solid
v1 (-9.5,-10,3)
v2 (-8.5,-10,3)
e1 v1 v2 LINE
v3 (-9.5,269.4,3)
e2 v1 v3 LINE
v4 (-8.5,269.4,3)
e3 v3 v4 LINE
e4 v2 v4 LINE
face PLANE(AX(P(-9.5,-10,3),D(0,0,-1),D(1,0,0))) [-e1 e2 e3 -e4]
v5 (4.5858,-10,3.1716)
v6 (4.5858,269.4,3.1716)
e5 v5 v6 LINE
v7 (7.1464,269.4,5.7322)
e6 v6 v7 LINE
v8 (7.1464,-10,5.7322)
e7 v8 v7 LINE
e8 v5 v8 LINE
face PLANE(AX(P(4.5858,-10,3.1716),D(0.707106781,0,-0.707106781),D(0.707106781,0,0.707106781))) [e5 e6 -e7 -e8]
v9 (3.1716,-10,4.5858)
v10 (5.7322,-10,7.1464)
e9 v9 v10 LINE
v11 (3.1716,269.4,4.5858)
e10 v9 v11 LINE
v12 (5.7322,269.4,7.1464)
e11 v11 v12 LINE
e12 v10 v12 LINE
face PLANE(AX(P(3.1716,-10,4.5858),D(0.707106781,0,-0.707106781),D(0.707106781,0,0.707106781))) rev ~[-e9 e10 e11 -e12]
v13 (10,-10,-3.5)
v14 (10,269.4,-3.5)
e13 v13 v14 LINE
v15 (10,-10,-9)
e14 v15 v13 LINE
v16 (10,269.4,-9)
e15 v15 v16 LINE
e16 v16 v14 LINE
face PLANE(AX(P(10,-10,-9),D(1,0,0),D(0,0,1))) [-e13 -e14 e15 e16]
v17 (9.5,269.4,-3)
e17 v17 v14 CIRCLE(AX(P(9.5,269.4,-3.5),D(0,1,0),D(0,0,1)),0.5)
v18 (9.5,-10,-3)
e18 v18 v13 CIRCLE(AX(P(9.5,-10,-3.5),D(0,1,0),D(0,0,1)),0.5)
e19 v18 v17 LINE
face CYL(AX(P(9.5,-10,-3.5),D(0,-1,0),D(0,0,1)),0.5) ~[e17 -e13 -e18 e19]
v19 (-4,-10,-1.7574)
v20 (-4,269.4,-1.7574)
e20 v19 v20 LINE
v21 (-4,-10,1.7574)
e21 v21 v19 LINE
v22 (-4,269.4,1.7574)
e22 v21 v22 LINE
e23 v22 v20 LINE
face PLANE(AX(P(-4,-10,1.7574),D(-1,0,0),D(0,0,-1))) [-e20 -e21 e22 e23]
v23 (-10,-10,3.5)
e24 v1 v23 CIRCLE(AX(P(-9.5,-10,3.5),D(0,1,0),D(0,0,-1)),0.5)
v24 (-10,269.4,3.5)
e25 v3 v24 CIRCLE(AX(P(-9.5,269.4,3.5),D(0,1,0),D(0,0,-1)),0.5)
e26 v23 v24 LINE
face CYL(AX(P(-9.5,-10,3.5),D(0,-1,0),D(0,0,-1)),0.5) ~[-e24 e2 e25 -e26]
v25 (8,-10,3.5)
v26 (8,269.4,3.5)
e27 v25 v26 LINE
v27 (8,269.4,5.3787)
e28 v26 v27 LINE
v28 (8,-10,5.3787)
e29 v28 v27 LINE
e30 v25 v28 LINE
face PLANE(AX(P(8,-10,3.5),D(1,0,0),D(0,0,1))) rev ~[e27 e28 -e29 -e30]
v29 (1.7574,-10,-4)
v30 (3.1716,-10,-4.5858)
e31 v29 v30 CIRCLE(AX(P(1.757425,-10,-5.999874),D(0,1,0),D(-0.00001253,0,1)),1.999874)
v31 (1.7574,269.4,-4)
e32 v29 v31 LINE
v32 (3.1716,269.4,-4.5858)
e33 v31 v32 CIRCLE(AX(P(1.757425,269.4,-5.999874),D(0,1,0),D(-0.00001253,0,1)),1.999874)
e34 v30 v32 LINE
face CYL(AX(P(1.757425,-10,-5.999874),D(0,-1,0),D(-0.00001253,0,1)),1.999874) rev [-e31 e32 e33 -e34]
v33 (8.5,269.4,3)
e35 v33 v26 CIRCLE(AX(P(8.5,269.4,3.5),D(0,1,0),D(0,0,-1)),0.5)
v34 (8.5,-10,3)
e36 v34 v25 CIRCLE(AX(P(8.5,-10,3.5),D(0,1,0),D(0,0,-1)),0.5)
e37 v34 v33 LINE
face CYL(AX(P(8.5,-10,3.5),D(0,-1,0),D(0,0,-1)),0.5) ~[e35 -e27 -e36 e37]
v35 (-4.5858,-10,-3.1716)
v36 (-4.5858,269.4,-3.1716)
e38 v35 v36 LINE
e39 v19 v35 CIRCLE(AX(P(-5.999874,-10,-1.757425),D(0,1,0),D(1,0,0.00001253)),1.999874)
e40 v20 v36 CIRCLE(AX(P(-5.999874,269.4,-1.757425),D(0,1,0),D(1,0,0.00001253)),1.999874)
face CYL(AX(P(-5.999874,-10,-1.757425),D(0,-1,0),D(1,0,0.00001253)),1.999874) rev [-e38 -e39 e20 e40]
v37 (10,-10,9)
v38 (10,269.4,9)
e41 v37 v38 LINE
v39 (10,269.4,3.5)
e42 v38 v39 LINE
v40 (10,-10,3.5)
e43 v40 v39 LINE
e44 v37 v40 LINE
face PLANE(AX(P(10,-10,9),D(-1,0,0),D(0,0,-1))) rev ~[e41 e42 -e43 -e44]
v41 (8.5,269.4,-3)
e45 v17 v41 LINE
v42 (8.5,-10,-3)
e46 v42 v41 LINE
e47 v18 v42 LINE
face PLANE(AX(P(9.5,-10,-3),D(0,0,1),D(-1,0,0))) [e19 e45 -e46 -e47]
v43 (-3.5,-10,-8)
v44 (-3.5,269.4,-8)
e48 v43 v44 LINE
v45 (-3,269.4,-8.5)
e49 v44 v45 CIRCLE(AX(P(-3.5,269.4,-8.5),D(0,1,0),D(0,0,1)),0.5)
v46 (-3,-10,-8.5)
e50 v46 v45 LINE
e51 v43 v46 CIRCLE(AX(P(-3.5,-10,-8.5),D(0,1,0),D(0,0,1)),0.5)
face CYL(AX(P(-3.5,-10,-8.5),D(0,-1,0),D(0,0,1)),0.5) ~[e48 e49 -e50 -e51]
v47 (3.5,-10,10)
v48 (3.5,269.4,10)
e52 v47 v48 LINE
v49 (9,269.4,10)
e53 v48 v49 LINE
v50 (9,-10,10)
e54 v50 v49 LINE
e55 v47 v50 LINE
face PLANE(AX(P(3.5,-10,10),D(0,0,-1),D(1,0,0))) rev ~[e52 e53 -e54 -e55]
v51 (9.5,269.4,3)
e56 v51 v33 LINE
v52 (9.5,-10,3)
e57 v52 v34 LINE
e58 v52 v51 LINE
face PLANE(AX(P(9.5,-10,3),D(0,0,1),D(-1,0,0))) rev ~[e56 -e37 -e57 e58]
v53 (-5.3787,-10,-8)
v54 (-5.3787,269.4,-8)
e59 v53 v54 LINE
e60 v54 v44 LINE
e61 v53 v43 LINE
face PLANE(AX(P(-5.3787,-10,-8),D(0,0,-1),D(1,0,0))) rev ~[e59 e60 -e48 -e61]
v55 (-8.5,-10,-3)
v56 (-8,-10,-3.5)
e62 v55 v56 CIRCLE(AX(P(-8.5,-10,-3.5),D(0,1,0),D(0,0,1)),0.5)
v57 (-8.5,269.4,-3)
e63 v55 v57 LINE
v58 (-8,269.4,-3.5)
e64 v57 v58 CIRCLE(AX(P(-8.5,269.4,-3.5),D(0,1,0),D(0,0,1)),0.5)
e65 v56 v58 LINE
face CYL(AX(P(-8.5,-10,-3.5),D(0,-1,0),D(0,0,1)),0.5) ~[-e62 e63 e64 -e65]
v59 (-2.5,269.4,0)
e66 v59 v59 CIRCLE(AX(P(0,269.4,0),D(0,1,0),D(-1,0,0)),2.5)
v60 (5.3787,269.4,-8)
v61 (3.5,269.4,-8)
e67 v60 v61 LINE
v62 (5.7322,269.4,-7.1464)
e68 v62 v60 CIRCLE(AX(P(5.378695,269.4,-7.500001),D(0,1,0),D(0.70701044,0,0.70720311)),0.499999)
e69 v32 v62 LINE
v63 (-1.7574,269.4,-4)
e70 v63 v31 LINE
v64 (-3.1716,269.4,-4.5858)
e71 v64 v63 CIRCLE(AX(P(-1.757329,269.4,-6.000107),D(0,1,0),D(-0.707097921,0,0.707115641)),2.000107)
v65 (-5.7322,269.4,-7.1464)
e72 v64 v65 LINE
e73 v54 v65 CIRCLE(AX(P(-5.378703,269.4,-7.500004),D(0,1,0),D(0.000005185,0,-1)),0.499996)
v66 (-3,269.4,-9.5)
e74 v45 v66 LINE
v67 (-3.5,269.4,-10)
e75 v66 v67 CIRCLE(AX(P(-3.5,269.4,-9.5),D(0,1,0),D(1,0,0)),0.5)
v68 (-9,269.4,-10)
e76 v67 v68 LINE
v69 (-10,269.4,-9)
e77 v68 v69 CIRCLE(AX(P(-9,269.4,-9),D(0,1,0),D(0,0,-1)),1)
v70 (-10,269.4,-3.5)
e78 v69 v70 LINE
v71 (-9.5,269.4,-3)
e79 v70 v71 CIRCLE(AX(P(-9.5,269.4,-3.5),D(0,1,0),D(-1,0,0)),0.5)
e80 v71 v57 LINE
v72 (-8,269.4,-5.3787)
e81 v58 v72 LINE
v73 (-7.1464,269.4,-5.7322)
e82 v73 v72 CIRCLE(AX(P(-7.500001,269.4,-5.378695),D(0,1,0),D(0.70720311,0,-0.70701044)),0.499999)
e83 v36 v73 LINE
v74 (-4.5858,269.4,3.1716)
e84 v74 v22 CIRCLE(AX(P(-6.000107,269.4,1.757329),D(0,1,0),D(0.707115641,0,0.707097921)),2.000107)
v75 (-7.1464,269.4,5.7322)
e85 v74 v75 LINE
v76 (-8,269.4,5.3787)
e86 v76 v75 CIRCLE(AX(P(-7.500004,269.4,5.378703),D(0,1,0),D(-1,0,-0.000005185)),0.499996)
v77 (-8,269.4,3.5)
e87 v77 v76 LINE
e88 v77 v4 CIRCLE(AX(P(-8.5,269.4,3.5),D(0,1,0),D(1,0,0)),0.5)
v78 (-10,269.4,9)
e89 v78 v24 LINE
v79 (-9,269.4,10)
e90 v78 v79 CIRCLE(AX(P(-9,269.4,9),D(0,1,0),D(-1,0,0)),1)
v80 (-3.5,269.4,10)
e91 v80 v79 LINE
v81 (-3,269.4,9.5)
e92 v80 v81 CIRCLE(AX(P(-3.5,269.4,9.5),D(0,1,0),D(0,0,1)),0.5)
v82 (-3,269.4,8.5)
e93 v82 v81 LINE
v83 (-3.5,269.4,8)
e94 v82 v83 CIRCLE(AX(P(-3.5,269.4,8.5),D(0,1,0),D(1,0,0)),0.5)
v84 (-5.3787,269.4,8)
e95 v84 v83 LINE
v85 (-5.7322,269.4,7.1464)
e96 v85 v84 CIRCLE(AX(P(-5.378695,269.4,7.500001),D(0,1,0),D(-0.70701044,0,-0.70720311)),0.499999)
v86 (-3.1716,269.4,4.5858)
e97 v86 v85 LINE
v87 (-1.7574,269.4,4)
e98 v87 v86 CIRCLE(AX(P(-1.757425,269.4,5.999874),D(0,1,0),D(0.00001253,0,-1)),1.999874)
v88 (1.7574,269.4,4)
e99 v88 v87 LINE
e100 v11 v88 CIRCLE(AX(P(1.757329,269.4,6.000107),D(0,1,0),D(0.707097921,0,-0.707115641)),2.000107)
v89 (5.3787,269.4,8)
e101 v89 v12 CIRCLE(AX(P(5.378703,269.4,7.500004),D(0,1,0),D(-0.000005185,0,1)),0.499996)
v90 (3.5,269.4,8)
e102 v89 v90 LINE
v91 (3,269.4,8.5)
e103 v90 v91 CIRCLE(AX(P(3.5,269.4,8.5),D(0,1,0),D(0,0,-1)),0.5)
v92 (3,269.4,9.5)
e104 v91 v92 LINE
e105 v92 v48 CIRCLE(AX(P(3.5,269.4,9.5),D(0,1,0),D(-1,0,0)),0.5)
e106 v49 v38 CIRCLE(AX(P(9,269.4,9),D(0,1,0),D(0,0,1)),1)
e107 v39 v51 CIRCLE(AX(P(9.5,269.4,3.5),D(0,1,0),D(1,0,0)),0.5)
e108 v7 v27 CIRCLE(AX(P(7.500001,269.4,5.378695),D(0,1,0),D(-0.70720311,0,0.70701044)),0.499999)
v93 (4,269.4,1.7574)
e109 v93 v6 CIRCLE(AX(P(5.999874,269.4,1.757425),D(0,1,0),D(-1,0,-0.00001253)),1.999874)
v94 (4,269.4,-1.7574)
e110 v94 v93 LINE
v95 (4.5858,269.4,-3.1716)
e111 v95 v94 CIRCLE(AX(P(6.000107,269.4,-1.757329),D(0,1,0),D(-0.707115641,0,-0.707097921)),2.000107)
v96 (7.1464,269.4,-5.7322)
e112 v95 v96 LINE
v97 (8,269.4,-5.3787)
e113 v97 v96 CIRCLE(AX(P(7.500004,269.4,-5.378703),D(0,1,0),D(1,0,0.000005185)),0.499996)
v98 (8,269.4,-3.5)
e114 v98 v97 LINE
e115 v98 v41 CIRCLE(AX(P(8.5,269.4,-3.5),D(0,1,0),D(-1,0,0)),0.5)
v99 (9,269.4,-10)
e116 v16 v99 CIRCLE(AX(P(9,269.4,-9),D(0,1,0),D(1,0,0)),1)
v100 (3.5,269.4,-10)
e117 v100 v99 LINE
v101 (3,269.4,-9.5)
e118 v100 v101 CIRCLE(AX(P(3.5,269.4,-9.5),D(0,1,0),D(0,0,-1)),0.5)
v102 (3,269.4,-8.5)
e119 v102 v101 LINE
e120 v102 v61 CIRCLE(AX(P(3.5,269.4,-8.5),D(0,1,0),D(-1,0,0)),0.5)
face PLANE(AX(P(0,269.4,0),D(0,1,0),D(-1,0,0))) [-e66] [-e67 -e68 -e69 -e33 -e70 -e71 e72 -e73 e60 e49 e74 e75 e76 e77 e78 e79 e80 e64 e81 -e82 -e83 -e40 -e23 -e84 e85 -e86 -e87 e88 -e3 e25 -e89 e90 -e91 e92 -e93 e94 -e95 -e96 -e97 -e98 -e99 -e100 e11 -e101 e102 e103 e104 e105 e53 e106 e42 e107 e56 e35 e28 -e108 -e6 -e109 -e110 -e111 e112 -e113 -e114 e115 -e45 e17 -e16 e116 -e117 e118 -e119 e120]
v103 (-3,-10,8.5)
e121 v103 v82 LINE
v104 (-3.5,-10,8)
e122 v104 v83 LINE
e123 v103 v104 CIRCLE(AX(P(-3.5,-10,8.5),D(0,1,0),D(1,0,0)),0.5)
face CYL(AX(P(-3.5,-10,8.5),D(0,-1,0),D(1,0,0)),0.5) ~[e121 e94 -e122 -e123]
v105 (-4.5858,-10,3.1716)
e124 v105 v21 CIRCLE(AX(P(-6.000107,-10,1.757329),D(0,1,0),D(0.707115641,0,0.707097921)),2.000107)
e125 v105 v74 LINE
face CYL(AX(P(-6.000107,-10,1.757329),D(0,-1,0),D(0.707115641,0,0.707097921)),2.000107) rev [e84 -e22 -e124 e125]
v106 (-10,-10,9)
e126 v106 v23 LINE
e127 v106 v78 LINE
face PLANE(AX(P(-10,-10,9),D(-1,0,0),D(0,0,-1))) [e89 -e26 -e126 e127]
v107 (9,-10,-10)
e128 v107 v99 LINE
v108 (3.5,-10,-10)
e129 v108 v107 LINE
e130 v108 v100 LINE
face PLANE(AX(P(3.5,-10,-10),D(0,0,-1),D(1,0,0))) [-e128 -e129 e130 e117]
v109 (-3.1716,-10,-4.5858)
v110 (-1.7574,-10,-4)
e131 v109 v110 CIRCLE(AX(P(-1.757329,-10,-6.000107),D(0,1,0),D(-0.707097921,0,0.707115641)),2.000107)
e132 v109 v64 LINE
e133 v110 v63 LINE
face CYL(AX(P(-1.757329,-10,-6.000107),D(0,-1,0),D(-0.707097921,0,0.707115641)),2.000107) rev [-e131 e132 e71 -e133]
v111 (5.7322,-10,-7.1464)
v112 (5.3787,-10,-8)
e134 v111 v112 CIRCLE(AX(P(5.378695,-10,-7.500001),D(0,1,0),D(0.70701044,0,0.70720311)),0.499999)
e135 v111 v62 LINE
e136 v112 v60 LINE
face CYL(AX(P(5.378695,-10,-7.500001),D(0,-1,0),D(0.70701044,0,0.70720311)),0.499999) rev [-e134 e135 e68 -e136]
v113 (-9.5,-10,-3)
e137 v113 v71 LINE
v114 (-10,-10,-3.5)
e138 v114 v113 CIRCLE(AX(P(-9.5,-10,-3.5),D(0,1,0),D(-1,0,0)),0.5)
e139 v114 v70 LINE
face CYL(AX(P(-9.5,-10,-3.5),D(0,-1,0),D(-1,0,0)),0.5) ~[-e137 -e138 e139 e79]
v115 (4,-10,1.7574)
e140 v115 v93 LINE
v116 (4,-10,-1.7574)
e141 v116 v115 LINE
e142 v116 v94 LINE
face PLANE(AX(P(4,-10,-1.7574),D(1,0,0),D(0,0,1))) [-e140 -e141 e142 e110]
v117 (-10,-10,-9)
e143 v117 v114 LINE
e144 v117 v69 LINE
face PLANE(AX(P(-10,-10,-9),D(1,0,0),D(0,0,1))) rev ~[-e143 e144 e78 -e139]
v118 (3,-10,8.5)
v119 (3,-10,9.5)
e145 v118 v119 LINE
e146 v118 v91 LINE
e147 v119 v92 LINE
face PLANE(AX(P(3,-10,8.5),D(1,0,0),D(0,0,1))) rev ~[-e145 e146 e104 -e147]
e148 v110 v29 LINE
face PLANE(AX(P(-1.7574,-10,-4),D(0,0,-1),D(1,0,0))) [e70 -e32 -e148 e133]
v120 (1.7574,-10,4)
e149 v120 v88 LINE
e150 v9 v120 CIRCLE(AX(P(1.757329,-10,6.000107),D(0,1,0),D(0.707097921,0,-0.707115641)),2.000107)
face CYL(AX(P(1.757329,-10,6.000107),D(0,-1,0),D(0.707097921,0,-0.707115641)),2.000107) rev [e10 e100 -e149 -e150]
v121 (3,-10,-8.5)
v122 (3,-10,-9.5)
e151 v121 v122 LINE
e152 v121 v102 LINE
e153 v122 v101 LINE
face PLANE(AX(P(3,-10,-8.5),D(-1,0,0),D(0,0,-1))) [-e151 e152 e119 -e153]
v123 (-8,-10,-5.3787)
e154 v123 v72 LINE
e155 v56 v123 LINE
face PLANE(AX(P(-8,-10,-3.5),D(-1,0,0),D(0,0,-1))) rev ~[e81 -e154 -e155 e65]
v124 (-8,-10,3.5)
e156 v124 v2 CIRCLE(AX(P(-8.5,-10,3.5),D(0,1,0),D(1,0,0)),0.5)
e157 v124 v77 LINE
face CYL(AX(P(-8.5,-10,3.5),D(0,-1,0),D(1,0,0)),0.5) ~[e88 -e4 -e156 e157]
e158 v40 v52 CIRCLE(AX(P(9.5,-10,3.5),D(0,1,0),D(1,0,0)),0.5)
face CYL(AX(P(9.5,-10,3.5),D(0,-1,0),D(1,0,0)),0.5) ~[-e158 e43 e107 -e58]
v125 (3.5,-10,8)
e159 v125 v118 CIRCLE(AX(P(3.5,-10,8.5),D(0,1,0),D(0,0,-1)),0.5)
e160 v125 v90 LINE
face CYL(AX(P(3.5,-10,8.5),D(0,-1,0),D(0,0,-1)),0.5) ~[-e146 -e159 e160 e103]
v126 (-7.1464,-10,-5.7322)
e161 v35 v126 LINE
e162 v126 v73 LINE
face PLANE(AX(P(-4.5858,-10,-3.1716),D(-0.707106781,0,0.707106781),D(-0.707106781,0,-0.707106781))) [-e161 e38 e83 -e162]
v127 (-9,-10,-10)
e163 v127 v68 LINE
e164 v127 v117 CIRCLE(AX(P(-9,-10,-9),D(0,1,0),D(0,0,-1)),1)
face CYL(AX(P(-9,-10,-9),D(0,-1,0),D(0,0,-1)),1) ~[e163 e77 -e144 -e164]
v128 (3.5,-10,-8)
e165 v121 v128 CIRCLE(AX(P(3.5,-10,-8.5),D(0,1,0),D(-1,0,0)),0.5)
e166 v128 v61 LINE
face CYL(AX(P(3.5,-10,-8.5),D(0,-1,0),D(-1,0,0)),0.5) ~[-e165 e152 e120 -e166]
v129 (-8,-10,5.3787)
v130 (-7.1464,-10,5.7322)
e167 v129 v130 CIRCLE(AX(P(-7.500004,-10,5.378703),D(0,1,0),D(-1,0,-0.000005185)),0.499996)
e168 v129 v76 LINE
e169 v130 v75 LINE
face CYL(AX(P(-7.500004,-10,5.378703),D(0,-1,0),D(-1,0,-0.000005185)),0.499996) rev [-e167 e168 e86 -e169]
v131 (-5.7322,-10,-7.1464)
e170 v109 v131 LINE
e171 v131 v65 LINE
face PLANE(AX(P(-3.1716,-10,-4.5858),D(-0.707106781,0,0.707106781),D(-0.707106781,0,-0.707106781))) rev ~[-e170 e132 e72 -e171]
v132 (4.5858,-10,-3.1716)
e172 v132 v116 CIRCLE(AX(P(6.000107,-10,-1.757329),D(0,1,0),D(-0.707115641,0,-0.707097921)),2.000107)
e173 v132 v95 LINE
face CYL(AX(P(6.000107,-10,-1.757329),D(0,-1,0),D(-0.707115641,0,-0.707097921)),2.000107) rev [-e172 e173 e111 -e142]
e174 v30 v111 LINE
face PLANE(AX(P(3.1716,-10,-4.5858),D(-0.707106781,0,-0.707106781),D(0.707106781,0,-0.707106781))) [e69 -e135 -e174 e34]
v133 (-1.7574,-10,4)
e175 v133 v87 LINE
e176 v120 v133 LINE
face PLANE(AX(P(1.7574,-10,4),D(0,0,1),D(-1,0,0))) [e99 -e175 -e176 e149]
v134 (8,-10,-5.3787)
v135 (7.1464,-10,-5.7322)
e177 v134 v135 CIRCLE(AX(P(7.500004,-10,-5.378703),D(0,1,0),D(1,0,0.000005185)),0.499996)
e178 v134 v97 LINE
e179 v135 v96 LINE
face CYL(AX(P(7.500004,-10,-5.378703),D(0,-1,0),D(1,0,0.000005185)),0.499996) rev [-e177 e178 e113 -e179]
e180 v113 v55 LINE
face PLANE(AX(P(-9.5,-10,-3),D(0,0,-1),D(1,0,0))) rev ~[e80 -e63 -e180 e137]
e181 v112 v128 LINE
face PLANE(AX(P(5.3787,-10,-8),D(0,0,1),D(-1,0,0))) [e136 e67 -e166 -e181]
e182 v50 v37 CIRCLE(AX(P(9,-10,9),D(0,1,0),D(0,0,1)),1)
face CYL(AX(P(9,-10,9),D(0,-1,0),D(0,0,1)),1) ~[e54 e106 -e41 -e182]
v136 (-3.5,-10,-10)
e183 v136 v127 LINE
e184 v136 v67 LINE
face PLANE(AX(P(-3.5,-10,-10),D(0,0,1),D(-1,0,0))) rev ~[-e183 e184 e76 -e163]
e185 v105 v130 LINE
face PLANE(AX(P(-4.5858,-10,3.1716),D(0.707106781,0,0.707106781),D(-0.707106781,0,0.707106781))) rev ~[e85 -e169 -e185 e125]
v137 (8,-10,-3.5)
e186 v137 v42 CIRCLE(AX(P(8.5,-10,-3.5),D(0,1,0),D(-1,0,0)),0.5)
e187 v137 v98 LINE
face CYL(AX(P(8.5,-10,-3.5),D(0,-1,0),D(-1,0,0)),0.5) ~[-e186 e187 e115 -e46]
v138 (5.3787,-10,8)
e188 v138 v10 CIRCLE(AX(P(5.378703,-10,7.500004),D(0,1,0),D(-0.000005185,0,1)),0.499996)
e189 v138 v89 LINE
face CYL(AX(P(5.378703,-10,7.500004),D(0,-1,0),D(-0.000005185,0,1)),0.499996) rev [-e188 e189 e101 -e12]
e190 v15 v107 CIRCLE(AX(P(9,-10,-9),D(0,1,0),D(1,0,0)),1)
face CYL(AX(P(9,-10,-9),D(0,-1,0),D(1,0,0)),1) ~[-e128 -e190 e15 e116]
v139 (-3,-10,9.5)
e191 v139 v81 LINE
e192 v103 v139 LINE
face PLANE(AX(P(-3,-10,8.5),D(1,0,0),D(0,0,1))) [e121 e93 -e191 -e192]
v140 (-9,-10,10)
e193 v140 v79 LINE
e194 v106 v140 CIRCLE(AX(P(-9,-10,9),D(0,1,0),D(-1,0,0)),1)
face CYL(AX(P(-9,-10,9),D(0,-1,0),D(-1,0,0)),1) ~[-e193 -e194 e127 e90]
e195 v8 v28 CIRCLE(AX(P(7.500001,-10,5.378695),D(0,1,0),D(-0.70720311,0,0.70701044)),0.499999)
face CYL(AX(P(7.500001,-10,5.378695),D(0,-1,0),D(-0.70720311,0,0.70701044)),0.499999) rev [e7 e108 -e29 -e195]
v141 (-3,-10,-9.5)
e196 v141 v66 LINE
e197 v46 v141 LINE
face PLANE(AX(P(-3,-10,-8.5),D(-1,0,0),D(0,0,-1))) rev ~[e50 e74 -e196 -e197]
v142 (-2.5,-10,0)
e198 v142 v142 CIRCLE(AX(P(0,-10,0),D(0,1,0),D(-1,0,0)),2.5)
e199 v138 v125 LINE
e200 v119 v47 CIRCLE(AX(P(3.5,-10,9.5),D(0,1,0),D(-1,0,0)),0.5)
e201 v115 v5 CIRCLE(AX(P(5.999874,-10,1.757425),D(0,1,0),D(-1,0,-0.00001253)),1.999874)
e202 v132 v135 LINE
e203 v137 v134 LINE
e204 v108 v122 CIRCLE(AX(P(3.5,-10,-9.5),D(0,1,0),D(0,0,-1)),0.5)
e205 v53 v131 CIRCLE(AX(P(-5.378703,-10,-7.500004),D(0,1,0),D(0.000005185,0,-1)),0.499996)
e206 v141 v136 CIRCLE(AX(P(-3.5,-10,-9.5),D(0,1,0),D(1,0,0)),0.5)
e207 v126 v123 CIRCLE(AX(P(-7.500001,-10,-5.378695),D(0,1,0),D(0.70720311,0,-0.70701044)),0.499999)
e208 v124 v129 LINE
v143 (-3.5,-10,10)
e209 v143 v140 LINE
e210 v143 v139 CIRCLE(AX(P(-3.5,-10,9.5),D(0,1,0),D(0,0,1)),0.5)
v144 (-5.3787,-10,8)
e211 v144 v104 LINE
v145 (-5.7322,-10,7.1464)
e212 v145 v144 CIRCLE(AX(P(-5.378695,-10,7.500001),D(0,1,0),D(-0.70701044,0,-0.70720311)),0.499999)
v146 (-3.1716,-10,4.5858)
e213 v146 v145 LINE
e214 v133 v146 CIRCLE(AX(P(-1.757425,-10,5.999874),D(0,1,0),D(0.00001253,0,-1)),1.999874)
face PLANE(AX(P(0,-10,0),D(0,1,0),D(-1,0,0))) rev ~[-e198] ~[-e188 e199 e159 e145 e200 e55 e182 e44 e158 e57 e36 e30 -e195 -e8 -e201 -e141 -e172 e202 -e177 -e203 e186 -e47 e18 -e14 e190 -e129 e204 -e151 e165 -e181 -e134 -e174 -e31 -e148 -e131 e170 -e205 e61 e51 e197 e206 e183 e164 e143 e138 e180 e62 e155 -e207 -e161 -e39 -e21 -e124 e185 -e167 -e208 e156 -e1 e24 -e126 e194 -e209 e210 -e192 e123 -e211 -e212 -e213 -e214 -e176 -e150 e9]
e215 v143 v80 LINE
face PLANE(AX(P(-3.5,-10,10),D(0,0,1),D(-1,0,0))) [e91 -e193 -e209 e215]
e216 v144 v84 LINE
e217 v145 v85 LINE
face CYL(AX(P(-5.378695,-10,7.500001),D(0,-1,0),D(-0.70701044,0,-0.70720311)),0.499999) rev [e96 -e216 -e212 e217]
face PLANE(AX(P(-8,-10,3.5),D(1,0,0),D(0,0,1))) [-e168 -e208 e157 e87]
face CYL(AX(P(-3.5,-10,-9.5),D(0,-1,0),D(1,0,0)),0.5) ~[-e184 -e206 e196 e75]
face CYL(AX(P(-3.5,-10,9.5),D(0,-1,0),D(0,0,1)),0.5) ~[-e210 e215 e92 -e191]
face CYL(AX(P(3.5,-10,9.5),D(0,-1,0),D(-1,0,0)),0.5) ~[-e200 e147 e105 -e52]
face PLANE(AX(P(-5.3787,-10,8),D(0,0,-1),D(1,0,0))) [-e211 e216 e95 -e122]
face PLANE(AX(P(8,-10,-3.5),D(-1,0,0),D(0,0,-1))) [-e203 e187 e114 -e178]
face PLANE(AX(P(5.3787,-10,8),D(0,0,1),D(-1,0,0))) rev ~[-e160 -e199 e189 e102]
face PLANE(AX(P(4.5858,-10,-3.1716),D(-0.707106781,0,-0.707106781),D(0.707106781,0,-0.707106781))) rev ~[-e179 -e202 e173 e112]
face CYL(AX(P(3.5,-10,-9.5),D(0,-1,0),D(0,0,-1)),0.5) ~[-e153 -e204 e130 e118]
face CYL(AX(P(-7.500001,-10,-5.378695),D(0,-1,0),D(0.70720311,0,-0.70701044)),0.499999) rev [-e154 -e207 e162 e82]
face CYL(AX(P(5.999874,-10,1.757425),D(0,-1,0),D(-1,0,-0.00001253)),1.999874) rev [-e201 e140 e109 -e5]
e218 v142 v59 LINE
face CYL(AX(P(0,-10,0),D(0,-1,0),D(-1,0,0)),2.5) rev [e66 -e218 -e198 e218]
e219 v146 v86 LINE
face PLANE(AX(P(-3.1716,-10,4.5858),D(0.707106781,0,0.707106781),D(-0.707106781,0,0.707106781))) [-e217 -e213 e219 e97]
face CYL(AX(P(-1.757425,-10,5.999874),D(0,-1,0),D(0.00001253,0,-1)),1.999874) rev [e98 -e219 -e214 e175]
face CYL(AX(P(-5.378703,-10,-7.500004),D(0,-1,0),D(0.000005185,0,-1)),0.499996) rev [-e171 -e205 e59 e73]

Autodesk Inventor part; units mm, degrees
ref_plane "Start Plane" through (0, -10, 0) normal (0, 1, 0) x (-1, 0, 0)
ref_plane "End Plane" through (0, 269.4, 0) normal (0, 1, 0) x (-1, 0, 0)
sketch "Sketch" plane through (0, 0, 0) normal (0, 1, 0) x (-1, 0, 0)
  line L0 (-1.7574, 4) -> (1.7574, 4)
  line L1 (4, 1.7574) -> (4, -1.7574)
  line L2 (1.7574, -4) -> (-1.7574, -4)
  line L3 (-4, -1.7574) -> (-4, 1.7574)
  line L4 (4.5858, -3.1716) -> (7.1464, -5.7322)
  line L5 (3.1716, -4.5858) -> (5.7322, -7.1464)
  line L6 (5.3787, -8) -> (3.5, -8)
  line L7 (3, -8.5) -> (3, -9.5)
  line L8 (3.5, -10) -> (9, -10)
  line L9 (10, -9) -> (10, -3.5)
  line L10 (9.5, -3) -> (8.5, -3)
  line L11 (8, -3.5) -> (8, -5.3787)
  line L12 (4, 0) -> (-4, 0) construction
  line L13 (0, -4) -> (0, 4) construction
  arc A0 (4, -1.7574) -> (4.5858, -3.1716) centre (6, -1.7574) ccw
  arc A1 (3.1716, -4.5858) -> (1.7574, -4) centre (1.7574, -6) ccw
  arc A2 (3.5, -8) -> (3, -8.5) centre (3.5, -8.5) ccw
  arc A3 (3, -9.5) -> (3.5, -10) centre (3.5, -9.5) ccw
  arc A4 (10, -3.5) -> (9.5, -3) centre (9.5, -3.5) ccw
  arc A5 (8.5, -3) -> (8, -3.5) centre (8.5, -3.5) ccw
  arc A6 (7.1464, -5.7322) -> (8, -5.3787) centre (7.5, -5.3787) ccw
  arc A7 (5.3787, -8) -> (5.7322, -7.1464) centre (5.3787, -7.5) ccw
  arc A8 (9, -10) -> (10, -9) centre (9, -9) ccw
  line L14 (-4.5858, -3.1716) -> (-7.1464, -5.7322)
  line L15 (-3.1716, -4.5858) -> (-5.7322, -7.1464)
  line L16 (-5.3787, -8) -> (-3.5, -8)
  line L17 (-3, -8.5) -> (-3, -9.5)
  line L18 (-3.5, -10) -> (-9, -10)
  line L19 (-10, -9) -> (-10, -3.5)
  line L20 (-9.5, -3) -> (-8.5, -3)
  line L21 (-8, -3.5) -> (-8, -5.3787)
  arc A9 (-4.5858, -3.1716) -> (-4, -1.7574) centre (-6, -1.7574) ccw
  arc A10 (-1.7574, -4) -> (-3.1716, -4.5858) centre (-1.7574, -6) ccw
  arc A11 (-3, -8.5) -> (-3.5, -8) centre (-3.5, -8.5) ccw
  arc A12 (-3.5, -10) -> (-3, -9.5) centre (-3.5, -9.5) ccw
  arc A13 (-9.5, -3) -> (-10, -3.5) centre (-9.5, -3.5) ccw
  arc A14 (-8, -3.5) -> (-8.5, -3) centre (-8.5, -3.5) ccw
  arc A15 (-8, -5.3787) -> (-7.1464, -5.7322) centre (-7.5, -5.3787) ccw
  arc A16 (-5.7322, -7.1464) -> (-5.3787, -8) centre (-5.3787, -7.5) ccw
  arc A17 (-10, -9) -> (-9, -10) centre (-9, -9) ccw
  line L22 (4.5858, 3.1716) -> (7.1464, 5.7322)
  line L23 (3.1716, 4.5858) -> (5.7322, 7.1464)
  line L24 (5.3787, 8) -> (3.5, 8)
  line L25 (3, 8.5) -> (3, 9.5)
  line L26 (3.5, 10) -> (9, 10)
  line L27 (10, 9) -> (10, 3.5)
  line L28 (9.5, 3) -> (8.5, 3)
  line L29 (8, 3.5) -> (8, 5.3787)
  arc A18 (4.5858, 3.1716) -> (4, 1.7574) centre (6, 1.7574) ccw
  arc A19 (1.7574, 4) -> (3.1716, 4.5858) centre (1.7574, 6) ccw
  arc A20 (3, 8.5) -> (3.5, 8) centre (3.5, 8.5) ccw
  arc A21 (3.5, 10) -> (3, 9.5) centre (3.5, 9.5) ccw
  arc A22 (9.5, 3) -> (10, 3.5) centre (9.5, 3.5) ccw
  arc A23 (8, 3.5) -> (8.5, 3) centre (8.5, 3.5) ccw
  arc A24 (8, 5.3787) -> (7.1464, 5.7322) centre (7.5, 5.3787) ccw
  arc A25 (5.7322, 7.1464) -> (5.3787, 8) centre (5.3787, 7.5) ccw
  arc A26 (10, 9) -> (9, 10) centre (9, 9) ccw
  line L30 (-10, 9) -> (-10, 3.5)
  arc A27 (-9, 10) -> (-10, 9) centre (-9, 9) ccw
  arc A28 (-10, 3.5) -> (-9.5, 3) centre (-9.5, 3.5) ccw
  line L31 (-9.5, 3) -> (-8.5, 3)
  arc A29 (-8.5, 3) -> (-8, 3.5) centre (-8.5, 3.5) ccw
  line L32 (-8, 3.5) -> (-8, 5.3787)
  arc A30 (-7.1464, 5.7322) -> (-8, 5.3787) centre (-7.5, 5.3787) ccw
  line L33 (-4.5858, 3.1716) -> (-7.1464, 5.7322)
  line L34 (-3.1716, 4.5858) -> (-5.7322, 7.1464)
  arc A31 (-3.1716, 4.5858) -> (-1.7574, 4) centre (-1.7574, 6) ccw
  arc A32 (-4, 1.7574) -> (-4.5858, 3.1716) centre (-6, 1.7574) ccw
  arc A33 (-5.3787, 8) -> (-5.7322, 7.1464) centre (-5.3787, 7.5) ccw
  line L35 (-5.3787, 8) -> (-3.5, 8)
  arc A34 (-3.5, 8) -> (-3, 8.5) centre (-3.5, 8.5) ccw
  line L36 (-3, 8.5) -> (-3, 9.5)
  arc A35 (-3, 9.5) -> (-3.5, 10) centre (-3.5, 9.5) ccw
  line L37 (-3.5, 10) -> (-9, 10)
  circle A36 centre (0, 0) radius 2.5
  point P0 (3, -8)
  point P1 (3, -10)
  point P2 (10, -10)
  dimension "d3" = 2
  dimension "d4" = 2
  dimension "d5" = 7
  dimension "d6" = 2
  dimension "d7" = 0.5
  dimension "d8" = 1
  dimension "d9" = 20
  dimension "d10" = 20
  dimension "d11" = 8
  dimension "d13" = 5
  dimension "d14" = 8
extrude "Body" add sketch "Sketch" along normal up to surface (279.4 mm away) from surface at -10
sketch "Sketch4" plane through (0, 0, 0) normal (0, 1, 0) x (-1, 0, 0)
  line L0 (0, 0) -> (10, 0)
ref_plane "Work Plane4" through (0, 0, 0) normal (0, 0, -1) x (-1, 0, 0)
sketch "Sketch5" plane through (0, 0, 0) normal (0, 0, -1) x (-1, 0, 0)
  line L0 (-2, -10) -> (12, -10)
  line L1 (-2, 269.4) -> (12, 269.4)
  dimension "d22" = 279.4
ref_plane "Work Plane5" through (-3.5, 269.4, 0) normal (0, 1, 0) x (1, 0, 0)
split "Split1" plane through (-3.5, 269.4, 0) removes the side toward (0, 1, 0)
ref_plane "Work Plane6" through (-304.8, -10, 9) normal (0, -1, 0) x (1, 0, 0)
split "Split2" plane through (-304.8, -10, 9) removes the side toward (0, -1, 0)
equation "\"d18\" = Length + G_OFFSET_END"
equation "\"G_L\" = d22"
equation "\"Length\" = 279.4"
equation "\"G_OFFSET_END\" = -10"
properties part number "A3.3"
